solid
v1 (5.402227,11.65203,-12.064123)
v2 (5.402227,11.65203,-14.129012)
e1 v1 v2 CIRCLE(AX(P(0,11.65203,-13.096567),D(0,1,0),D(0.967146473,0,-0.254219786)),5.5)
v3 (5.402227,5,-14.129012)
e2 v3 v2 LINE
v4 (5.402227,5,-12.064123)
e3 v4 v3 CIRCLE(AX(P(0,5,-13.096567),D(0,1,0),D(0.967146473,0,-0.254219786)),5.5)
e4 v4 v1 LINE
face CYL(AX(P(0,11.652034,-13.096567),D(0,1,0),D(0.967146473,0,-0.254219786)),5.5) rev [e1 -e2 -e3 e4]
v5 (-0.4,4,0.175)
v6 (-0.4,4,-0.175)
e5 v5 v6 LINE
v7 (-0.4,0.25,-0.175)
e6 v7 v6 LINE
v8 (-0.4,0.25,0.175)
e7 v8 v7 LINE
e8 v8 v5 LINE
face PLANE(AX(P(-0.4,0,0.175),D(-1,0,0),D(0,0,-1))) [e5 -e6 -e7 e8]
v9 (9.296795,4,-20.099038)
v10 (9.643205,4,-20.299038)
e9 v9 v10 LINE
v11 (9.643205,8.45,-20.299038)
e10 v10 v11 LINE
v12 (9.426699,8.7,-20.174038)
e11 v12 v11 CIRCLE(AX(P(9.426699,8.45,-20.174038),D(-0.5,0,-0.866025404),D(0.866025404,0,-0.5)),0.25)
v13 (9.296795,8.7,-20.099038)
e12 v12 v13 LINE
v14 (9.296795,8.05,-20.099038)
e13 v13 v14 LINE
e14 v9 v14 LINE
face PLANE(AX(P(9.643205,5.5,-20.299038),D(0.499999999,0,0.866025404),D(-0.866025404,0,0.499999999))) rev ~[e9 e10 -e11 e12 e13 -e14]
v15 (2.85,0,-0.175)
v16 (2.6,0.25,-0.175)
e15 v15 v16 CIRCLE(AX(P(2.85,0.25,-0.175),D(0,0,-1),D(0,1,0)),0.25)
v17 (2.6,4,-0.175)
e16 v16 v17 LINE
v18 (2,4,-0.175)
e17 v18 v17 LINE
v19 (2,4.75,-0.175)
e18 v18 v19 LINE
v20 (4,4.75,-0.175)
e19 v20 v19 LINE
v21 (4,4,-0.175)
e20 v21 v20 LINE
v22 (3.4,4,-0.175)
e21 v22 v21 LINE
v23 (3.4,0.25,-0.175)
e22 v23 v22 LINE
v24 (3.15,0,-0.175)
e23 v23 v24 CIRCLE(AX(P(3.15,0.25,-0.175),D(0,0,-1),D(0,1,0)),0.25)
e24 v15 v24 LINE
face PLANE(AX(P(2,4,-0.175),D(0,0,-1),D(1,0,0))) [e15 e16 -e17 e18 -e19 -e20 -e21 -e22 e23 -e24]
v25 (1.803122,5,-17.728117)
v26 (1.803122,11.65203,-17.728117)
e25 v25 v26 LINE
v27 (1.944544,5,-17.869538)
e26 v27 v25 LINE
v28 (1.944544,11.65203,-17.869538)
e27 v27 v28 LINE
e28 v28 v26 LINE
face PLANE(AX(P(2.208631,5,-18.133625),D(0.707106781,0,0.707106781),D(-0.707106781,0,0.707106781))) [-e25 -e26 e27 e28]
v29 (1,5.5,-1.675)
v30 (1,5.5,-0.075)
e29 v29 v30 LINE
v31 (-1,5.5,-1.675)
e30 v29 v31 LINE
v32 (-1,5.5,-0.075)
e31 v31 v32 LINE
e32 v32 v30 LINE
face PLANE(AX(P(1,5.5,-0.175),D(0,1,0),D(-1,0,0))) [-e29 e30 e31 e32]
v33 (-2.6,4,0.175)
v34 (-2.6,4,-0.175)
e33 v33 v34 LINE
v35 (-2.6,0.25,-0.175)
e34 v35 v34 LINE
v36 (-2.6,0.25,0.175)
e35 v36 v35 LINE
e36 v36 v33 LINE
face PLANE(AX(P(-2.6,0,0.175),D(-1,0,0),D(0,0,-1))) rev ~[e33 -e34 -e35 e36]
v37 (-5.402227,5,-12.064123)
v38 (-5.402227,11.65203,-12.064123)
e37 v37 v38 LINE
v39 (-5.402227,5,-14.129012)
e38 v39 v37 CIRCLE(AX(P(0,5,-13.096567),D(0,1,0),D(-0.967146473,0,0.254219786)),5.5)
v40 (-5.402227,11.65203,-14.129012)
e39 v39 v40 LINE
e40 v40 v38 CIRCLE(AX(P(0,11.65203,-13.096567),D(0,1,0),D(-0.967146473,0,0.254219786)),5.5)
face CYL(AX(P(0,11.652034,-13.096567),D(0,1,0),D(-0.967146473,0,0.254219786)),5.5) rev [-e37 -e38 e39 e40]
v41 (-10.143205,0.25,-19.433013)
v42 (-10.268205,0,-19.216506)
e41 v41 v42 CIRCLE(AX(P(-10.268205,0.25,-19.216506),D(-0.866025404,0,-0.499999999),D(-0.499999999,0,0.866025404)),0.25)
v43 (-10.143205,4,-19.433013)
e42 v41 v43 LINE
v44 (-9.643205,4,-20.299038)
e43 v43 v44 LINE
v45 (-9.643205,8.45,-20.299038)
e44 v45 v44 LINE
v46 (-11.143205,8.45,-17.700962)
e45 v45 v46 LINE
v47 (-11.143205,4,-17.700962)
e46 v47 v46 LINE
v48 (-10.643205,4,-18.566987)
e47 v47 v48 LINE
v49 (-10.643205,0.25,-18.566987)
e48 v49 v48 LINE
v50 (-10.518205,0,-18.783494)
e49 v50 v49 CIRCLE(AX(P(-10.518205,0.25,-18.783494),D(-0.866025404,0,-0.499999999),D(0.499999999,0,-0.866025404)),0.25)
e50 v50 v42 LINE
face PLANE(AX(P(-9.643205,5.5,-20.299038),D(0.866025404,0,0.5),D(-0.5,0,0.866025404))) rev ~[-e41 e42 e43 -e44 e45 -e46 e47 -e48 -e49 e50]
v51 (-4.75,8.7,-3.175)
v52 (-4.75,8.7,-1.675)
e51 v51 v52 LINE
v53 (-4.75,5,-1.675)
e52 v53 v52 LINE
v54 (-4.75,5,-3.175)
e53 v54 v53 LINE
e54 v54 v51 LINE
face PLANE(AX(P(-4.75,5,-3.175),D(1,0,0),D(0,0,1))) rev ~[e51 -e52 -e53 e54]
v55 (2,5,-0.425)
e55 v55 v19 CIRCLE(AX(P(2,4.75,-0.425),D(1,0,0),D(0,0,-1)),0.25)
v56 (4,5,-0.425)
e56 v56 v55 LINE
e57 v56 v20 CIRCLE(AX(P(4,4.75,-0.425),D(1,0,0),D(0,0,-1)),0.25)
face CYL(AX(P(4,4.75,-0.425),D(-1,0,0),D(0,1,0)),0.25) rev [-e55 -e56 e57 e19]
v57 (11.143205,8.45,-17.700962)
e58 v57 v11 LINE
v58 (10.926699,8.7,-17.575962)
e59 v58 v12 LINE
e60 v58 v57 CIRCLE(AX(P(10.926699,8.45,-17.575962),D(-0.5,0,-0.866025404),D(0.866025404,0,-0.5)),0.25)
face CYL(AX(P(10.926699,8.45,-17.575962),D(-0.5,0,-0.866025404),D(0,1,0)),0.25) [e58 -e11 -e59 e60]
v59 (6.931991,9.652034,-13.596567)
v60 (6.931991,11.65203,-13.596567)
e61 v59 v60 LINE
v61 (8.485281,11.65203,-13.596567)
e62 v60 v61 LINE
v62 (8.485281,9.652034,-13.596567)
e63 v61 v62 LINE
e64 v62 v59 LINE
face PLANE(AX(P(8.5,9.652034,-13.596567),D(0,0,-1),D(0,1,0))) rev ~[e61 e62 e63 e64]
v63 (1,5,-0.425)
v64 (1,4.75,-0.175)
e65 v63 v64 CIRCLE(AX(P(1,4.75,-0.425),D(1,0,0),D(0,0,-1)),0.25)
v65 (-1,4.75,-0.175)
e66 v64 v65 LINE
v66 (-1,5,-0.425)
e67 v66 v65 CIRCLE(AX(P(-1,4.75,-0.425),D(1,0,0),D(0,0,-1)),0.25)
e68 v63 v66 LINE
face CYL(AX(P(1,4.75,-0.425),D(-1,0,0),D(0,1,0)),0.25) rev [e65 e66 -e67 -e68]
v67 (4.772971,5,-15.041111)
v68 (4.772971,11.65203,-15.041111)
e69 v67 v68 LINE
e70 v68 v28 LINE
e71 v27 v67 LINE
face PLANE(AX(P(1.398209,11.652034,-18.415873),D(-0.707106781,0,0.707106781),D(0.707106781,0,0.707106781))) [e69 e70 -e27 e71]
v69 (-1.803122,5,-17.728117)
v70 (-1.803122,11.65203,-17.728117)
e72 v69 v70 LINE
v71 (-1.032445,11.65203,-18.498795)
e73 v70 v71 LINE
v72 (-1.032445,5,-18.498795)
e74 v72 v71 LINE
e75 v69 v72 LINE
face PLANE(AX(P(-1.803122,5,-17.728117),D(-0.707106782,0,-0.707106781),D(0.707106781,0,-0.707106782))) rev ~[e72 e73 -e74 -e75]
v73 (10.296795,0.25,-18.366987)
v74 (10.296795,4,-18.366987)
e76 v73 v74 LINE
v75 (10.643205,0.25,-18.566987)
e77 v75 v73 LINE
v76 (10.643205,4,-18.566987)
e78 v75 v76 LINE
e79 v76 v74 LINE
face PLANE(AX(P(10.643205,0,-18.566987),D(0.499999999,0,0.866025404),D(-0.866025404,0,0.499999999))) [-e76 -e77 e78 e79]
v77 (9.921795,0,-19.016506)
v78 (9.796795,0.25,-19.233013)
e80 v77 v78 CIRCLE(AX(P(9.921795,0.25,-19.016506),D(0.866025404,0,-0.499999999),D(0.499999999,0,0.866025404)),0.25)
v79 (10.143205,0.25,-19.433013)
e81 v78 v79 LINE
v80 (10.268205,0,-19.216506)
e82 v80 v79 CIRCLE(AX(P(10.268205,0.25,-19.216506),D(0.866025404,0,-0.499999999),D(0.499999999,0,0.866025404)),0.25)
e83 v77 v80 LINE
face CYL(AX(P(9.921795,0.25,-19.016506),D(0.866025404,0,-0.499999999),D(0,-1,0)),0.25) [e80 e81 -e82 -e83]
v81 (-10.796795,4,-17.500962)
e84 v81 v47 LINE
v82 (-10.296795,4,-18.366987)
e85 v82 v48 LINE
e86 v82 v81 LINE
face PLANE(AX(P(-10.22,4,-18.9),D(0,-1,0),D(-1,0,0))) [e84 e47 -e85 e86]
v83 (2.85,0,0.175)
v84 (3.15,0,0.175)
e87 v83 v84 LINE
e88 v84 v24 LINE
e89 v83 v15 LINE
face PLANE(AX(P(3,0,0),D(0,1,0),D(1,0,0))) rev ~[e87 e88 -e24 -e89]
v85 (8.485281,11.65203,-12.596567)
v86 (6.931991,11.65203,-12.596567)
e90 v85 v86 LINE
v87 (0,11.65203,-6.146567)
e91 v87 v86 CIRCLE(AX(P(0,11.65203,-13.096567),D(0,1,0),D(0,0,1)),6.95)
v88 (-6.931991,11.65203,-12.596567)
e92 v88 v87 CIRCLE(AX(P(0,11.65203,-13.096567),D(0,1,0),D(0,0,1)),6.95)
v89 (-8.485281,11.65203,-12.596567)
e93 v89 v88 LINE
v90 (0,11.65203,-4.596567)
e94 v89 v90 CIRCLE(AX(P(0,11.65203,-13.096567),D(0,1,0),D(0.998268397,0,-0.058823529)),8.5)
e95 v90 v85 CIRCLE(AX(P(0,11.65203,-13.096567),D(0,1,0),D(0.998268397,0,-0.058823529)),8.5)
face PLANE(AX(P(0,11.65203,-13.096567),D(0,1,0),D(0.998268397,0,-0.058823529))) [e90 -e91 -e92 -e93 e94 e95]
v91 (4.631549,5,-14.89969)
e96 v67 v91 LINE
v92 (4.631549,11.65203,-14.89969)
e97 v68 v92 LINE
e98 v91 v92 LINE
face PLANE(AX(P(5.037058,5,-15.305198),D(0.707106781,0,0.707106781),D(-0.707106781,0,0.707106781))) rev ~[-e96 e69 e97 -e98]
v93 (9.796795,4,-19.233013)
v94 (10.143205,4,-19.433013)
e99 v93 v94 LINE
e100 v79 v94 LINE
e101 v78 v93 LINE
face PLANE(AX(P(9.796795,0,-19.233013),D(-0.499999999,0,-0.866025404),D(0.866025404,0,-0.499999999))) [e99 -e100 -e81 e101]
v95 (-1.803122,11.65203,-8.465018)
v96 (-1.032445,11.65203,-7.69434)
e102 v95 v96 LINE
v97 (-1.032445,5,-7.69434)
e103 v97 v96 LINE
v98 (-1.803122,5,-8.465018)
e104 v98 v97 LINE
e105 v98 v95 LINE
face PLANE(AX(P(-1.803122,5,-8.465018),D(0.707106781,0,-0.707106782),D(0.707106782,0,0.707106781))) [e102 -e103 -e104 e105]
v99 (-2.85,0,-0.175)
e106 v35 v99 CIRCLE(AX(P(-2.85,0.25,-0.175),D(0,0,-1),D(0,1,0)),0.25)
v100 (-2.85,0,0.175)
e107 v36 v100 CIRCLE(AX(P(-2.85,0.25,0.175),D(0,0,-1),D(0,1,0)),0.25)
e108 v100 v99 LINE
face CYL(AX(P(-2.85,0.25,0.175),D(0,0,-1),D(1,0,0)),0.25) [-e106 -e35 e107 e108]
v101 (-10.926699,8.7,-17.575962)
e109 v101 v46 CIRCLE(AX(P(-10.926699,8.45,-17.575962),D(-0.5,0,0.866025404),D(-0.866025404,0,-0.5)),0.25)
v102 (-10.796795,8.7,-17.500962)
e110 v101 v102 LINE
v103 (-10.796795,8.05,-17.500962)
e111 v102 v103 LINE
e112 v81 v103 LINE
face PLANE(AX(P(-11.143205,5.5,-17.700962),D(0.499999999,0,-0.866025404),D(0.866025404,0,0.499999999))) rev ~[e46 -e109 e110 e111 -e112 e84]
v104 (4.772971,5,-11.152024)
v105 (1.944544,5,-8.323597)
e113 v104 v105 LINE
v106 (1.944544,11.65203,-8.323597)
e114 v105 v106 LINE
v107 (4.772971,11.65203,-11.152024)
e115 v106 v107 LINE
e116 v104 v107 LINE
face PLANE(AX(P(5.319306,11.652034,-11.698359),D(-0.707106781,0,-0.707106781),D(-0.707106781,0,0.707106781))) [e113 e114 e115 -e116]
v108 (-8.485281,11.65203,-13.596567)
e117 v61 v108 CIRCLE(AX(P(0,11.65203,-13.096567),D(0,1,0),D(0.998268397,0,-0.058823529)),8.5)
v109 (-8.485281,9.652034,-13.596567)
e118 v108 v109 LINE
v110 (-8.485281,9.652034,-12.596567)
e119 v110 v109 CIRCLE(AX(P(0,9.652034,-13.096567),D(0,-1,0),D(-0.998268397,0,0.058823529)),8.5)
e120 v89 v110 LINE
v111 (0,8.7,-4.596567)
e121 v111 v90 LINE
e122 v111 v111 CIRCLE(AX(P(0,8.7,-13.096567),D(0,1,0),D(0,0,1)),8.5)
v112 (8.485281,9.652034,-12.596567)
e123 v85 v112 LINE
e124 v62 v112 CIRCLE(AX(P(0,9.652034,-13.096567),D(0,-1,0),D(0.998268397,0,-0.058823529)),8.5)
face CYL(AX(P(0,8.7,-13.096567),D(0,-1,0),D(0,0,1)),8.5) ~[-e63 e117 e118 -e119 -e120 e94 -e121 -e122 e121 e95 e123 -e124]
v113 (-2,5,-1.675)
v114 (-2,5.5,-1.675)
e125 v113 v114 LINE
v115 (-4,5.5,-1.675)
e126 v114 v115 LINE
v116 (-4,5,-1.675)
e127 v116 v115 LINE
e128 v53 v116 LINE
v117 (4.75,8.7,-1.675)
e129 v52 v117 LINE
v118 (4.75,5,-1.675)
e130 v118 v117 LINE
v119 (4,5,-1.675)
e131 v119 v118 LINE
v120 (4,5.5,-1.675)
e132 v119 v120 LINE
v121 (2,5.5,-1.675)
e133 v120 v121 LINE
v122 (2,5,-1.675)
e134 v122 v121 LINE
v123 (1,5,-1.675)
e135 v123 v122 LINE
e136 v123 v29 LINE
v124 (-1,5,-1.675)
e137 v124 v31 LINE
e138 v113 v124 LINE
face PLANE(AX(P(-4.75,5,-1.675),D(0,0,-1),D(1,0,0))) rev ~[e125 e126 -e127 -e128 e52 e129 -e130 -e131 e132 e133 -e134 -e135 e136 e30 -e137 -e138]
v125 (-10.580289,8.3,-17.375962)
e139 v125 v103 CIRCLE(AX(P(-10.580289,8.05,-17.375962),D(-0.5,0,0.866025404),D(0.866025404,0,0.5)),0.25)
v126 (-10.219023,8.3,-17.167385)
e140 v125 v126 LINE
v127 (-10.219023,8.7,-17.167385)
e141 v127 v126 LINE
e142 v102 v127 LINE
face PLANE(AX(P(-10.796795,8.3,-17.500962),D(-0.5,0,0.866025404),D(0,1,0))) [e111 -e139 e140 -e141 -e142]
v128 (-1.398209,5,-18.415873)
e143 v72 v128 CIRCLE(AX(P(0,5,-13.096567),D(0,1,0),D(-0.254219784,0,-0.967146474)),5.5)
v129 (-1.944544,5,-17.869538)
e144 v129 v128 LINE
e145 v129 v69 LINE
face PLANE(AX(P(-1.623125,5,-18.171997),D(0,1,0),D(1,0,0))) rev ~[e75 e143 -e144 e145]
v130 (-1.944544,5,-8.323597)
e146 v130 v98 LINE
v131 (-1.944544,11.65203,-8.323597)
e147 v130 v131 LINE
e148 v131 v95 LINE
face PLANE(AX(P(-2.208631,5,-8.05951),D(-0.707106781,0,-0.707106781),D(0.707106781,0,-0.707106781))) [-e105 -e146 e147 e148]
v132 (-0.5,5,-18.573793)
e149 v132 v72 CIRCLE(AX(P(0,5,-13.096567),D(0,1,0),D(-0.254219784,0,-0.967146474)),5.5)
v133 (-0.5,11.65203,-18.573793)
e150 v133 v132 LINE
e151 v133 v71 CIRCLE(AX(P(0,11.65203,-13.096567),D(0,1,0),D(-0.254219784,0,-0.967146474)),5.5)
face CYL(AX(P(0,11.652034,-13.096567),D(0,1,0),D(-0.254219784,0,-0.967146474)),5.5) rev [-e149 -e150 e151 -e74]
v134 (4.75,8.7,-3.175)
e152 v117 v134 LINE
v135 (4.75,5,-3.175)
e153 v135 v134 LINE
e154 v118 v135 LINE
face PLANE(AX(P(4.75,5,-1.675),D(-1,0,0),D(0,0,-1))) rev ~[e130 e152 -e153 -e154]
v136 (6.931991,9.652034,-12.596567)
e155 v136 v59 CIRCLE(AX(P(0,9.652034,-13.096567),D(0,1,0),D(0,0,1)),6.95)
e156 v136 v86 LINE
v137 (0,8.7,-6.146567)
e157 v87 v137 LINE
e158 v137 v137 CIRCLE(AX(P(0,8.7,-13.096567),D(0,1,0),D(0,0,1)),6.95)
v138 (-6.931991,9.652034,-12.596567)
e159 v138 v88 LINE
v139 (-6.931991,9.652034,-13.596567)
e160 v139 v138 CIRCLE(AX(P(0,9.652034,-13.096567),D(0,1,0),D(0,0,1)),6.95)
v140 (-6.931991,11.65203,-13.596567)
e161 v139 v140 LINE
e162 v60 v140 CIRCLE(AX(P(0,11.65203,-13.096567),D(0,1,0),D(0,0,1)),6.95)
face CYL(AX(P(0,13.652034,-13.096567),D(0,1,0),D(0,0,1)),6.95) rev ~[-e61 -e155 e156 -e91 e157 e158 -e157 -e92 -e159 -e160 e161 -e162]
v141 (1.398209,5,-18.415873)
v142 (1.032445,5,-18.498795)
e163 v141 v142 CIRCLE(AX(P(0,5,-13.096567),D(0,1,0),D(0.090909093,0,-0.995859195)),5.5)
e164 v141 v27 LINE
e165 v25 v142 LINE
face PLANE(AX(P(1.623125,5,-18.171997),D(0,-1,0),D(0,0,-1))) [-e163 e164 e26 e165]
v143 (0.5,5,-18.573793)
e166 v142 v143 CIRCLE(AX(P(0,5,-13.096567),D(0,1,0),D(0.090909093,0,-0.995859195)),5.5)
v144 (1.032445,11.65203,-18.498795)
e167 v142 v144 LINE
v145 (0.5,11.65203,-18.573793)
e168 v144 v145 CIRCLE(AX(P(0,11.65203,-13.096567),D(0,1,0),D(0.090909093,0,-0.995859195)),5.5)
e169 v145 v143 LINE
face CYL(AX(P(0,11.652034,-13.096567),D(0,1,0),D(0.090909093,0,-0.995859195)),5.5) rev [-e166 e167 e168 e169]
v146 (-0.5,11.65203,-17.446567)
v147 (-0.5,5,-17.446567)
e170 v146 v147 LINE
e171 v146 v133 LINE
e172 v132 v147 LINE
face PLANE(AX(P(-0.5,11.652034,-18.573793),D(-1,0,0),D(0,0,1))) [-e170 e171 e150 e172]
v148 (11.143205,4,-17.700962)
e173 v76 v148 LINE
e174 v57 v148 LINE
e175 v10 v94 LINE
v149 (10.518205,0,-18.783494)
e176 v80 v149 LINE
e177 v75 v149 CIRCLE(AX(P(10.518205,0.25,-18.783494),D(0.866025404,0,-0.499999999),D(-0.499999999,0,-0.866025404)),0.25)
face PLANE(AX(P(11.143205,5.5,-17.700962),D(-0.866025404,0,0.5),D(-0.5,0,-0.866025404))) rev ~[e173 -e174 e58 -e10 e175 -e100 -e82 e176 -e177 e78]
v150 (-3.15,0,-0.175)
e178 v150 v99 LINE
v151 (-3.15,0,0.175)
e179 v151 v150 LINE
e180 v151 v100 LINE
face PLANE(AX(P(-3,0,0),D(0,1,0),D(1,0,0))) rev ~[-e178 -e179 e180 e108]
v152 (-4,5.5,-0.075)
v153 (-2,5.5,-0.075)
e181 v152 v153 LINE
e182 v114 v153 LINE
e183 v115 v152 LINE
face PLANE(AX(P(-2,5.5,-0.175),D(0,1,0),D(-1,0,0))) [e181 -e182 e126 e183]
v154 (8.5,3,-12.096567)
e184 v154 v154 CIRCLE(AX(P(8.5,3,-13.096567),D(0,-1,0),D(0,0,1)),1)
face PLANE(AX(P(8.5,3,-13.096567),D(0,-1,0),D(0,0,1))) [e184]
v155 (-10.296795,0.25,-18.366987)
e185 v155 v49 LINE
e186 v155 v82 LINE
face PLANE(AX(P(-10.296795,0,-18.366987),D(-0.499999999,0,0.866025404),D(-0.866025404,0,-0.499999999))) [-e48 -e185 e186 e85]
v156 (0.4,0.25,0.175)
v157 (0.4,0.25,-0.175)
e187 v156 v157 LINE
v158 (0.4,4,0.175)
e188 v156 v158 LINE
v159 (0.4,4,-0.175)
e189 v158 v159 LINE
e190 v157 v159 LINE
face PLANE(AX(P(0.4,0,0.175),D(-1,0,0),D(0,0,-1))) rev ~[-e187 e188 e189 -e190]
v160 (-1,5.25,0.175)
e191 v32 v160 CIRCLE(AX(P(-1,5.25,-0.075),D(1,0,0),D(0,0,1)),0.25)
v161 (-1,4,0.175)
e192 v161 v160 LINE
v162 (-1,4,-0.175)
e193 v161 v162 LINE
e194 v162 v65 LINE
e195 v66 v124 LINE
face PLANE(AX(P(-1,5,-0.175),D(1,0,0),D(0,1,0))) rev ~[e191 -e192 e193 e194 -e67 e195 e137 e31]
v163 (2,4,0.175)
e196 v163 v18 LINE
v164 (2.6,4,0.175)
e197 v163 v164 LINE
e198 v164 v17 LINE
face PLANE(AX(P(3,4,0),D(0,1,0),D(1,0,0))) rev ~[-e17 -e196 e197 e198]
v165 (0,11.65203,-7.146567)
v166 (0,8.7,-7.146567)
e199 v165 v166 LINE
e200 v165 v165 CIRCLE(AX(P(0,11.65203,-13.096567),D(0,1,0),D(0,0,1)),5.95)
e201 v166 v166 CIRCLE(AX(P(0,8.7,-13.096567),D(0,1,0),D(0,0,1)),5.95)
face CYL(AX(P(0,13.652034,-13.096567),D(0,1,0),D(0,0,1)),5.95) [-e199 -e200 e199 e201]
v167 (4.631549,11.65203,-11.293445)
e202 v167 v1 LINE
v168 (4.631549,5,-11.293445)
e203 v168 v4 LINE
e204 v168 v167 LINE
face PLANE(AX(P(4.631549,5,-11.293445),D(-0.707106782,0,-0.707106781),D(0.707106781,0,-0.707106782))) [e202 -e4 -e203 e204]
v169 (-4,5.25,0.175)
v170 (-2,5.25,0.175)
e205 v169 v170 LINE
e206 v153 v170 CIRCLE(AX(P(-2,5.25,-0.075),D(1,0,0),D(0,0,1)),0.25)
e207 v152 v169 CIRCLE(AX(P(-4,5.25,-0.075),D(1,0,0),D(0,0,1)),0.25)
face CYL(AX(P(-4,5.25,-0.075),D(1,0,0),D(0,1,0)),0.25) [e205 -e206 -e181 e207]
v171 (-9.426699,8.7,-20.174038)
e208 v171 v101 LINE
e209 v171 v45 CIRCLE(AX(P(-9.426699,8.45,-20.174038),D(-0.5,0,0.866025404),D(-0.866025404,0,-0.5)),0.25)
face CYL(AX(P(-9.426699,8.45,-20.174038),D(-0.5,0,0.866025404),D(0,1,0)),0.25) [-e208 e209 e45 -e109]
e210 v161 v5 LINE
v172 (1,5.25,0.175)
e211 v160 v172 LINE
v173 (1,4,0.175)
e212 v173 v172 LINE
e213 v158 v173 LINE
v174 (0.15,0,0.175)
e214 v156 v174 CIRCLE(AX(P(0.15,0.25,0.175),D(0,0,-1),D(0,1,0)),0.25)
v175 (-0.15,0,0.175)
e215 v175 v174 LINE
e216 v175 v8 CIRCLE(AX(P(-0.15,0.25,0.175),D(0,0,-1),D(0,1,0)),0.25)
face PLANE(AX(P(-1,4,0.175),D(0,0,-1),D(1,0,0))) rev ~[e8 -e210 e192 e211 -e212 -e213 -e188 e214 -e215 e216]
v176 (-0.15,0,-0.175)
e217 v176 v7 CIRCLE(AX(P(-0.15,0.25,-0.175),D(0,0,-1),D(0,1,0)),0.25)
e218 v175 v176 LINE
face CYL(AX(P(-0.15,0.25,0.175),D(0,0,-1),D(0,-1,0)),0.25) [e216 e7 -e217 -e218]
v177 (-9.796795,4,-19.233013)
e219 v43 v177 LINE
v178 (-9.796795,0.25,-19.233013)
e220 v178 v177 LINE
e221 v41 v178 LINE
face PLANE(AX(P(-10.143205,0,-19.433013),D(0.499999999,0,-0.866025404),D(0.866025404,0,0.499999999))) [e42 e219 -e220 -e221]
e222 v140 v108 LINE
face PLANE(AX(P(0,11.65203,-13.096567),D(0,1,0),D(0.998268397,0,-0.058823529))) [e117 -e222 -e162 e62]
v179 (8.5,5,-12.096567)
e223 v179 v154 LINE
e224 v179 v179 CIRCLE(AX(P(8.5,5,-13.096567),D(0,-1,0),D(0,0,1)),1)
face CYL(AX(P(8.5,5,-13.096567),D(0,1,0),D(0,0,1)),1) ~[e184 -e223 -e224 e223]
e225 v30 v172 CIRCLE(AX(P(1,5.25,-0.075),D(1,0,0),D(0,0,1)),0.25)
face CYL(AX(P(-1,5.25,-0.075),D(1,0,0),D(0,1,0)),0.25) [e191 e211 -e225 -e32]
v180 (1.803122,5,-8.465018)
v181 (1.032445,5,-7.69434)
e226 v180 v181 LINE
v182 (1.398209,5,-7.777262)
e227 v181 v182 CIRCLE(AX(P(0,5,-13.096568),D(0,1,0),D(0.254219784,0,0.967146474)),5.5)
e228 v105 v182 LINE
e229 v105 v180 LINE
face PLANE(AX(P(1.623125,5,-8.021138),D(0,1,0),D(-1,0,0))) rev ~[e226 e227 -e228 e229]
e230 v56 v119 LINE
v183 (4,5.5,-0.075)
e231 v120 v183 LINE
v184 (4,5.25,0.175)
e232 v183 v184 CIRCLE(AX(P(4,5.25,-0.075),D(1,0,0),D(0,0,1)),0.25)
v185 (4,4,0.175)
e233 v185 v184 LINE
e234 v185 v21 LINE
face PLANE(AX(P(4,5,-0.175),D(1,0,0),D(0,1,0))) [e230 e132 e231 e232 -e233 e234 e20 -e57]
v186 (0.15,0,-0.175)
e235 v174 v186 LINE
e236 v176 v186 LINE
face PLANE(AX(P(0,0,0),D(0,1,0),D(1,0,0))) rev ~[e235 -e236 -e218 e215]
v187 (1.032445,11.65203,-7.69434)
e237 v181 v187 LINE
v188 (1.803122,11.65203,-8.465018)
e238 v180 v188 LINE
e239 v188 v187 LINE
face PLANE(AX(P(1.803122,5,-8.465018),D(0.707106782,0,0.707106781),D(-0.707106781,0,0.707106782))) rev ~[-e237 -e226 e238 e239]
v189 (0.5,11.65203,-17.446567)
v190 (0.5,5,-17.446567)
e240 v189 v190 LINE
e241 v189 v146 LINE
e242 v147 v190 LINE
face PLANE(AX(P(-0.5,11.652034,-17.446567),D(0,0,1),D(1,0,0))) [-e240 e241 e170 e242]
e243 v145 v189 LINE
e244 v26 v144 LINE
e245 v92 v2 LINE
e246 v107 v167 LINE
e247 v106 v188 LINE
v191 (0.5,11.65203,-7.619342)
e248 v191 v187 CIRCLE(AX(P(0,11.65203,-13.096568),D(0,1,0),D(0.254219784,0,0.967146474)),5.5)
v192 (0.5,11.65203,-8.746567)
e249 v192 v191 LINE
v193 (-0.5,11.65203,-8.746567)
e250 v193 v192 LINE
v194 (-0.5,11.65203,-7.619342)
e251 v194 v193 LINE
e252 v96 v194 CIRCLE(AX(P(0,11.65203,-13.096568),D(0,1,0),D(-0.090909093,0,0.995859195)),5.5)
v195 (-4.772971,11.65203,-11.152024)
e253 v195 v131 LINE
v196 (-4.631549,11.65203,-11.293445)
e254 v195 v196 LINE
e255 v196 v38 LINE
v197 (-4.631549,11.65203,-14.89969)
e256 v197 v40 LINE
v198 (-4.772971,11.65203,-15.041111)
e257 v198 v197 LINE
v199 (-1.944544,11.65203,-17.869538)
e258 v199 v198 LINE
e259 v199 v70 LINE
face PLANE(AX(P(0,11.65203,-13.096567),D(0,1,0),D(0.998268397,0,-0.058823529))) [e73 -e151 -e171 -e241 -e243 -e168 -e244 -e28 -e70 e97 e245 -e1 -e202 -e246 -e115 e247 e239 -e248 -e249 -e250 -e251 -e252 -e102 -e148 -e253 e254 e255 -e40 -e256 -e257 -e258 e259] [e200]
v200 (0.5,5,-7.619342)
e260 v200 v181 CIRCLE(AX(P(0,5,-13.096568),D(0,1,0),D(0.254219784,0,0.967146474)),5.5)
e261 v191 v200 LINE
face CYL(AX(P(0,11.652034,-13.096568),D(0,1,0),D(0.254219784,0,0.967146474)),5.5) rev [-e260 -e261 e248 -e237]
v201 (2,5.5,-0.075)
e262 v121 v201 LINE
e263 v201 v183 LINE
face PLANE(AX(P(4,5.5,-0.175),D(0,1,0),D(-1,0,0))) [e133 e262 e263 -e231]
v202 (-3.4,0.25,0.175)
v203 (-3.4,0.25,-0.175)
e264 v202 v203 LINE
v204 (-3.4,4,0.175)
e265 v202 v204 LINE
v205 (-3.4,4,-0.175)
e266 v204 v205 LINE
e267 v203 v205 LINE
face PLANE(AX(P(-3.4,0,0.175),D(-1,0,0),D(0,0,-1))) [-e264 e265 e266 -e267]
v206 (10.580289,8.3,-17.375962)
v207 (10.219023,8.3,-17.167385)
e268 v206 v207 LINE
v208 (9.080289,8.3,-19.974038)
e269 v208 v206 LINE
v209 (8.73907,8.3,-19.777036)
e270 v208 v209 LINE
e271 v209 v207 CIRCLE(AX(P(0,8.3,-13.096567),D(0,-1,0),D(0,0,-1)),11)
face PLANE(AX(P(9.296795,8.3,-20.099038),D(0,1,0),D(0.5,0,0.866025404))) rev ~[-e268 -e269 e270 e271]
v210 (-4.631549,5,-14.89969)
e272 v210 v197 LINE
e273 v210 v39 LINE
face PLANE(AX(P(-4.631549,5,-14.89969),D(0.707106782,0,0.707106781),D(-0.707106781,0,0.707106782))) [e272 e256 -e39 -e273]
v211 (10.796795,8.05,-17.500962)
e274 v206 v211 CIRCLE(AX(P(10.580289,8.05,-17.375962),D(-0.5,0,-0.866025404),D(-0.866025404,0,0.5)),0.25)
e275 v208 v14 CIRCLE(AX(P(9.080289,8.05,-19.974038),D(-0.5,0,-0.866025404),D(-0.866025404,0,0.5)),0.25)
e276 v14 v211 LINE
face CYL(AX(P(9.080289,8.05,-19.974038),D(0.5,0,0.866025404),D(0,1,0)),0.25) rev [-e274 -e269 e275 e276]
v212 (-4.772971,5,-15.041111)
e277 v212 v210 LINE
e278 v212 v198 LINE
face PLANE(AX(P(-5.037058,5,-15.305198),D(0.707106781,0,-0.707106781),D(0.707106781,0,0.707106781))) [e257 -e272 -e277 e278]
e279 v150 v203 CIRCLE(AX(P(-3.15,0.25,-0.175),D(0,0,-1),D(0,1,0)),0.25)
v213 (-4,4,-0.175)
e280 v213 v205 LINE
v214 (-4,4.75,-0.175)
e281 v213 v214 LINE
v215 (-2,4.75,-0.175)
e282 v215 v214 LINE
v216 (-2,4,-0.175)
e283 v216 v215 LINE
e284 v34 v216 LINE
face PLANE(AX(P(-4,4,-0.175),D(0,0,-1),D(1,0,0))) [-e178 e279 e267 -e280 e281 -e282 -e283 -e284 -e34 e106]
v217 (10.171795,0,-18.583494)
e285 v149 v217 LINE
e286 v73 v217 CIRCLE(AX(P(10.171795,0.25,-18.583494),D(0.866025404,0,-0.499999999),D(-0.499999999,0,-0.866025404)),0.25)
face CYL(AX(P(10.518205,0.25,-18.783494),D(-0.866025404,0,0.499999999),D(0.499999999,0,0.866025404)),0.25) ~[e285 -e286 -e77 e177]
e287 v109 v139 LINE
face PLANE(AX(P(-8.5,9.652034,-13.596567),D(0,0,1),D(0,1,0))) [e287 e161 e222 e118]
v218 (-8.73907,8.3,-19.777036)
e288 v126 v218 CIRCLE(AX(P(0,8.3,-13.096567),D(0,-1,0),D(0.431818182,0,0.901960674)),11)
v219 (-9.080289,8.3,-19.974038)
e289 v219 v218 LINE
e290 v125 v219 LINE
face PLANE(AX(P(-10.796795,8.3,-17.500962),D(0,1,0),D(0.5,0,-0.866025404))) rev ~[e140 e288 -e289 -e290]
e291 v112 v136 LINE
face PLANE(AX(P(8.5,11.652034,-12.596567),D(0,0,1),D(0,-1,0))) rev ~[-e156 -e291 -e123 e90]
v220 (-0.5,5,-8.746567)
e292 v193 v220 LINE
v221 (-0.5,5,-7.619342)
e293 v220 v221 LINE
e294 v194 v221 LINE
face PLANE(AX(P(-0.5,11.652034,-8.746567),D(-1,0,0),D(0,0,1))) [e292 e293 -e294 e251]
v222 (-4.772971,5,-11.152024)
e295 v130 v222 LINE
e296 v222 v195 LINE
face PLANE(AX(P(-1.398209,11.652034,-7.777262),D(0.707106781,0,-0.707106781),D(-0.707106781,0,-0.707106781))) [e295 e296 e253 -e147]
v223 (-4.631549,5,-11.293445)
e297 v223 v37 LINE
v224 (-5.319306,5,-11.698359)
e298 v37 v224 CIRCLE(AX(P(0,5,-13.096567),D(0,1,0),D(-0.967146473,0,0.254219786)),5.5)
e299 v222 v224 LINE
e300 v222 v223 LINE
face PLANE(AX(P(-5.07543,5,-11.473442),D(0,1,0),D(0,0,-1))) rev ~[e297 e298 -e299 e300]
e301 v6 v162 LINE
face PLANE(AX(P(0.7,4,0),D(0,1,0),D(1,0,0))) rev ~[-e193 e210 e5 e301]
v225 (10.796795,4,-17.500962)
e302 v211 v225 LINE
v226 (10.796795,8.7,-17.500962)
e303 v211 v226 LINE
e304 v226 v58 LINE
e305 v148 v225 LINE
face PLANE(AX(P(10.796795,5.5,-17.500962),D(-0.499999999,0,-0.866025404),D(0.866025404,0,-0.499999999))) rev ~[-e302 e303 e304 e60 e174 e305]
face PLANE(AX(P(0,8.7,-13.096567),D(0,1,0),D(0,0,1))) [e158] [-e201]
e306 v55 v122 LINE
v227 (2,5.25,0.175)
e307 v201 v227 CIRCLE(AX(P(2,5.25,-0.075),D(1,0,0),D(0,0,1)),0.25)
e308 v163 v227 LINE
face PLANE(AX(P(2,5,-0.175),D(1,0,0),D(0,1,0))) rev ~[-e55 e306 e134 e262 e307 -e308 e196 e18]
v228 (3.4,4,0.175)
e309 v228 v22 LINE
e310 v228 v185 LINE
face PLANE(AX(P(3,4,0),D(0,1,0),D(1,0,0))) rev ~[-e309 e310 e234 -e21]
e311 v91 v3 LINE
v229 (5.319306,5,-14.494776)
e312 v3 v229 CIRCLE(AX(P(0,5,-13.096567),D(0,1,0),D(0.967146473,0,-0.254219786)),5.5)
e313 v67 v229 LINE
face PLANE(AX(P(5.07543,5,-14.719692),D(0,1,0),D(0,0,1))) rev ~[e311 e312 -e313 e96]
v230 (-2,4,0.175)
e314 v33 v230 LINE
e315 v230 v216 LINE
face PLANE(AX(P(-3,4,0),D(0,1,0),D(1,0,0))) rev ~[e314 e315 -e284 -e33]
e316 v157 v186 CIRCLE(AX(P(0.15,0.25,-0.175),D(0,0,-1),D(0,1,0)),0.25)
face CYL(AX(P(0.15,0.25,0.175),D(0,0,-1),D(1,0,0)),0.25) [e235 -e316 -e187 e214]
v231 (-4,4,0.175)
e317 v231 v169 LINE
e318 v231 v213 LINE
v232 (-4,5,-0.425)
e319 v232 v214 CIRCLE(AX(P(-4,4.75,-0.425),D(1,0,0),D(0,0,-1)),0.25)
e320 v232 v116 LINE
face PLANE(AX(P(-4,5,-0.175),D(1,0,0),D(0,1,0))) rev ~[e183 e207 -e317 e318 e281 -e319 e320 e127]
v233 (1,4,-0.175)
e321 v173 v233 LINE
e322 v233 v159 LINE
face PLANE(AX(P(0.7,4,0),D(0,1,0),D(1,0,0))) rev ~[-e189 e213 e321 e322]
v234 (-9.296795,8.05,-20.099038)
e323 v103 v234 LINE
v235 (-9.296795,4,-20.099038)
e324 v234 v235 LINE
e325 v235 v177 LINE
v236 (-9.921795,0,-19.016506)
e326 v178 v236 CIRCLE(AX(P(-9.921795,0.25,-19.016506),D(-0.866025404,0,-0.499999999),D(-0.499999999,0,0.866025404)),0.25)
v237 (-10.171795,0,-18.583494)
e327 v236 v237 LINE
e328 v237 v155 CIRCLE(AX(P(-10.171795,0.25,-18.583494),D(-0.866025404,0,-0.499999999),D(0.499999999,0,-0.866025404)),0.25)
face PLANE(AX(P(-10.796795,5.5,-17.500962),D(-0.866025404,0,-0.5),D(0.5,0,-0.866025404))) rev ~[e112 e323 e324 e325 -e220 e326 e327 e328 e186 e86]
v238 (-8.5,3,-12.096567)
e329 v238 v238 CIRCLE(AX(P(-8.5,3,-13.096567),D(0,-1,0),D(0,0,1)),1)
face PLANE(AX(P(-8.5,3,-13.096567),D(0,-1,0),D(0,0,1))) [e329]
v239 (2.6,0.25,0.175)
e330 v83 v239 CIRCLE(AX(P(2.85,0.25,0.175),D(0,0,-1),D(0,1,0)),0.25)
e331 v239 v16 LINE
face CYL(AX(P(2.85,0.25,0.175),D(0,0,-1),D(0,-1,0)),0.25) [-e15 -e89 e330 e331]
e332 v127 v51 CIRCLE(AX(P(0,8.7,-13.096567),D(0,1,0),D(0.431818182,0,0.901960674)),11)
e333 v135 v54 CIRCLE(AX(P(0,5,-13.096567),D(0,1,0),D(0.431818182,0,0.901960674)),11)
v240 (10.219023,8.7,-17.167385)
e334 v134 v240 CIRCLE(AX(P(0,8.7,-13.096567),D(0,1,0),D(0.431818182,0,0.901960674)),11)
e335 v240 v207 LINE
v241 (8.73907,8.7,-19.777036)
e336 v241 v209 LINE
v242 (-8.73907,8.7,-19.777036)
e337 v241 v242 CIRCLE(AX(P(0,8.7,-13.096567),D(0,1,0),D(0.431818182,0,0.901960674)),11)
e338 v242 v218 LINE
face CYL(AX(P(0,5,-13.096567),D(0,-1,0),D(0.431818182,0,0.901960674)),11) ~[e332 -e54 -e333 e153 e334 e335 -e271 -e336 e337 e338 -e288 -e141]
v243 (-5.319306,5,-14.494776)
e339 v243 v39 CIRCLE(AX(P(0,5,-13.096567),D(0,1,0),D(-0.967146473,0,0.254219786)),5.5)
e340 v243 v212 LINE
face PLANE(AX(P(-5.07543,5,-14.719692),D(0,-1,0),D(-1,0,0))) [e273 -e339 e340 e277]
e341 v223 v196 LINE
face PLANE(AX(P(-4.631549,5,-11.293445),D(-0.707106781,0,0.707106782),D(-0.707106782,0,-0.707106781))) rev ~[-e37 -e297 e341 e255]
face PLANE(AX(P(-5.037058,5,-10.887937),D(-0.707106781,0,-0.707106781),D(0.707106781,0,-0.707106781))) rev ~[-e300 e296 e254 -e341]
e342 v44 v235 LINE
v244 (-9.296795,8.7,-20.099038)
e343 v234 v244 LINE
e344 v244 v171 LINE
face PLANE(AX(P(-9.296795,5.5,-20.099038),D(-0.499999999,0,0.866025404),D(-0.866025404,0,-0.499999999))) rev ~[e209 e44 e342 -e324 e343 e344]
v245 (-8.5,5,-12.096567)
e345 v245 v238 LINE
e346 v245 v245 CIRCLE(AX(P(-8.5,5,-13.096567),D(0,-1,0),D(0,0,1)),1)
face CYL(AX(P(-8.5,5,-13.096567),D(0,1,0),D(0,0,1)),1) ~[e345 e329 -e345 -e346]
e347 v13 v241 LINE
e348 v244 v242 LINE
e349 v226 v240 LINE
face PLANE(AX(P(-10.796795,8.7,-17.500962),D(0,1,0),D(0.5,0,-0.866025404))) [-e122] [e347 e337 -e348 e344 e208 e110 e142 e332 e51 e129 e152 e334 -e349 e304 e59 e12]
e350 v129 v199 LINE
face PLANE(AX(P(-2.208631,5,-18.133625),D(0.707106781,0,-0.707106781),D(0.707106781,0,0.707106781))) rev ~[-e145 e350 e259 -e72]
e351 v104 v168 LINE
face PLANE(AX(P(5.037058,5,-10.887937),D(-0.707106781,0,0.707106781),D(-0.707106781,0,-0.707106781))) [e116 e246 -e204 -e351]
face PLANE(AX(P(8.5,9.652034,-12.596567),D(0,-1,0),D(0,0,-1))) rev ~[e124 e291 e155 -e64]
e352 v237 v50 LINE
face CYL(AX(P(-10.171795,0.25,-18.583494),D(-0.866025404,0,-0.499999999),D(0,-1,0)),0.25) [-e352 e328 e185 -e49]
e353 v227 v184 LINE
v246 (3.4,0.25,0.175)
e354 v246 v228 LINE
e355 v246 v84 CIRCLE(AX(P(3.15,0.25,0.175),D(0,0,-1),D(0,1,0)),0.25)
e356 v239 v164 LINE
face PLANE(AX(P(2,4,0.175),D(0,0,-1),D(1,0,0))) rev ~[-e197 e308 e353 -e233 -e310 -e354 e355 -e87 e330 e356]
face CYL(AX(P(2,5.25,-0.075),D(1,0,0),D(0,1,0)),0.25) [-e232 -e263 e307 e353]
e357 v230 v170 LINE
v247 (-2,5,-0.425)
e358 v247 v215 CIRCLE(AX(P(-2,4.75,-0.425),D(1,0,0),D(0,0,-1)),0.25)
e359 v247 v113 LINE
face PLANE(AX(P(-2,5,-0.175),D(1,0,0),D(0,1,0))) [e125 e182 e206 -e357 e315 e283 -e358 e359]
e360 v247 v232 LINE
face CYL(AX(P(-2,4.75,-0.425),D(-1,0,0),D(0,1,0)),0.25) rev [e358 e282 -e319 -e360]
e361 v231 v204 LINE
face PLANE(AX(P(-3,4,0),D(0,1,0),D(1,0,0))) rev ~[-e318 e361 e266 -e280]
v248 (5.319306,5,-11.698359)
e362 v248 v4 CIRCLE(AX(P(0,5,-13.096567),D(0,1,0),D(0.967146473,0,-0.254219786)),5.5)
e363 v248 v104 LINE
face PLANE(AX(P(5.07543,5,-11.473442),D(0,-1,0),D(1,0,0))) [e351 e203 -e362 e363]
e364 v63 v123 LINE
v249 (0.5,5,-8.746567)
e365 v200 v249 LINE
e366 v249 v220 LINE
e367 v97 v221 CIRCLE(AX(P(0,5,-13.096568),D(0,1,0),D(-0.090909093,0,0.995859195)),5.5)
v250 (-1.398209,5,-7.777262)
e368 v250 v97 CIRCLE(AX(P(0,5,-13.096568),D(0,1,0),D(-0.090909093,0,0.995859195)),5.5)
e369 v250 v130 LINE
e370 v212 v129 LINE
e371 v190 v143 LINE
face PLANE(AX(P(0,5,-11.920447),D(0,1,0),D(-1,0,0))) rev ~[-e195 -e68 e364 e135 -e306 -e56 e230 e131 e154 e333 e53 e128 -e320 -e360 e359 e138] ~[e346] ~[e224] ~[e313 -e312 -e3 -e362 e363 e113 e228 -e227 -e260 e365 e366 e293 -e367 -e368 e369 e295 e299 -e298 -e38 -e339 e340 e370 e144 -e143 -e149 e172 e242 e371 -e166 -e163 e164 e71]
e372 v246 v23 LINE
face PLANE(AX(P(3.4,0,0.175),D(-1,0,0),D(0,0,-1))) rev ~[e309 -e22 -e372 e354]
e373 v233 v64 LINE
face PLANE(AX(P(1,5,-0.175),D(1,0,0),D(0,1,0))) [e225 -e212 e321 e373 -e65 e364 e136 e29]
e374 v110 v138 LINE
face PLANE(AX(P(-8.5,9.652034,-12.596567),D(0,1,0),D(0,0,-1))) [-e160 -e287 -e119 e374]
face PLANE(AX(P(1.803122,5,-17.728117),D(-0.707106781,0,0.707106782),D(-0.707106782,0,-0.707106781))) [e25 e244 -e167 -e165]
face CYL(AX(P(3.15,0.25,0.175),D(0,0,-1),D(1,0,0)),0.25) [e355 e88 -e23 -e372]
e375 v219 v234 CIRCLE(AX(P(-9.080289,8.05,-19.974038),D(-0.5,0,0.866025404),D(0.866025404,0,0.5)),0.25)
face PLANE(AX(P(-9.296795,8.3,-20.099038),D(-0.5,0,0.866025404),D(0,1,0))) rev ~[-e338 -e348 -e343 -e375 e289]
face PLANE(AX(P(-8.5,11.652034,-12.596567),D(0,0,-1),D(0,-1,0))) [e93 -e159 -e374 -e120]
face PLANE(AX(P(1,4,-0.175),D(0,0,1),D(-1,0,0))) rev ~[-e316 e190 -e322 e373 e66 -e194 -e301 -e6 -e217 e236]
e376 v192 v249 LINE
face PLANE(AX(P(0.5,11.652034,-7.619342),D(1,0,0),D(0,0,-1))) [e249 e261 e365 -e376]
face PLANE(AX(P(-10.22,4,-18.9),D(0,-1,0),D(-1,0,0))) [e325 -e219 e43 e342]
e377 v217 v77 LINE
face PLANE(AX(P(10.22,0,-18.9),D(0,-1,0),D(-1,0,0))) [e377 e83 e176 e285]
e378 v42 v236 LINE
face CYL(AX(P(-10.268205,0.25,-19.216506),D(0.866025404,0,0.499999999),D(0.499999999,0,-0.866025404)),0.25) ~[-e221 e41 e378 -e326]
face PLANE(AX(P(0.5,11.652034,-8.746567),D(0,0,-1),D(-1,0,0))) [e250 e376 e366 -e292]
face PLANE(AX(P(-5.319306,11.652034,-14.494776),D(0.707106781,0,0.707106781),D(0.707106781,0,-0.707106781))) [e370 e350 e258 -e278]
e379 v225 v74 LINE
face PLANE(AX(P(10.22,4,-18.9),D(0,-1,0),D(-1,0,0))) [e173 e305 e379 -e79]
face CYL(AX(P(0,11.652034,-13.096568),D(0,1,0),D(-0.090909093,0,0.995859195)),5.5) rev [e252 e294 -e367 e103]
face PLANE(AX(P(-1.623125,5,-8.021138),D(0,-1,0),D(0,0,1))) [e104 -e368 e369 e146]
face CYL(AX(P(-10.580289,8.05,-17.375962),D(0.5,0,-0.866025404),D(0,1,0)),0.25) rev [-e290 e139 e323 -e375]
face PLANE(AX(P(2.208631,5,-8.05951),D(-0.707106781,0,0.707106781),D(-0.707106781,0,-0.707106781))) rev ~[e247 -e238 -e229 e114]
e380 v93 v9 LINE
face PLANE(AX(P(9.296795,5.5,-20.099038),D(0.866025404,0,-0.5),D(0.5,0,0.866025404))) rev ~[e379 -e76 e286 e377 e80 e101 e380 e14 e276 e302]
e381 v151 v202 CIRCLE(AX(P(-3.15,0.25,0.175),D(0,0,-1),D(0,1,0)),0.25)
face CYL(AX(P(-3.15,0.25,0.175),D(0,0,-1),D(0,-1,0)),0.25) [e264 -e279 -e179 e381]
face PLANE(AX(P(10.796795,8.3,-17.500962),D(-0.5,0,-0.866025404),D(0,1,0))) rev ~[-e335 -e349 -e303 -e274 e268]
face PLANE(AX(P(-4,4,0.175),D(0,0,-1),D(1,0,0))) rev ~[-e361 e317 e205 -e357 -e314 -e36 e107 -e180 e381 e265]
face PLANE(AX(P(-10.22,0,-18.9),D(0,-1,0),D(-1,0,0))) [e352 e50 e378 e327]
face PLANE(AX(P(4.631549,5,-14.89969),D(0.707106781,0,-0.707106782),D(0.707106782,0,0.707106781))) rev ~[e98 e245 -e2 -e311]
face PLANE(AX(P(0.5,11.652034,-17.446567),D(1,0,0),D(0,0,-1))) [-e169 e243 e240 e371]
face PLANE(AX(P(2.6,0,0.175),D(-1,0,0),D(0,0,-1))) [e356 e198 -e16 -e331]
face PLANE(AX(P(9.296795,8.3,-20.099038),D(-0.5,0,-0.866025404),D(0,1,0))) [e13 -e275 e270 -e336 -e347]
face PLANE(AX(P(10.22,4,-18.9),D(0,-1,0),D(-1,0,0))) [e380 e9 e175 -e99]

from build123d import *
from build123d.topology import SkipClean

# Parameters (mm, degrees)
BOSS_EXTRUDE1_DEPTH      = 4
SKETCH1_W                = 0.8
SKETCH1_H                = 0.35
BOSS_EXTRUDE1_2_DEPTH    = 4
BOSS_EXTRUDE1_3_DEPTH    = 4
BOSS_EXTRUDE1_4_DEPTH    = 4
BOSS_EXTRUDE1_5_DEPTH    = 4
SKETCH2_W                = 0.6
SKETCH2_H                = 0.35
SKETCH2_W_2              = 0.8
SKETCH2_W_3              = 2
BOSS_EXTRUDE2_DEPTH      = 1.5
SKETCH3_W                = 2
SKETCH3_H                = 0.5
BOSS_EXTRUDE3_DEPTH      = 1.5
BOSS_EXTRUDE4_DEPTH      = 3.7
BOSS_EXTRUDE6_DEPTH      = 3.2
BOSS_EXTRUDE7_REACH      = 33.958
BOSS_EXTRUDE7_END_RADIUS = 11
SKETCH7_W                = 3
SKETCH7_H                = 0.4
BOSS_EXTRUDE8_REACH      = 33.958
SKETCH8_W                = 3
SKETCH8_H                = 0.4
SKETCH9_R                = 1
BOSS_EXTRUDE9_DEPTH      = 2
SKETCH5_R                = 8.5
BOSS_EXTRUDE5_DEPTH      = 4.952033783
FILLET1_R                = 0.25
FILLET2_R                = 0.25
SKETCH10_R               = 5.5
CUT_EXTRUDE1_DEPTH       = 2
CUT_EXTRUDE2_DEPTH       = 29.992852085
BOSS_EXTRUDE10_START     = -8.652034
BOSS_EXTRUDE10_DEPTH     = 8.652034
CIRPATTERN2_COUNT        = 4
SKETCH13_R               = 6.95
SKETCH13_R_2             = 5.95
CUT_EXTRUDE3_DEPTH       = 4.952033783
CHAMFER1_SIZE            = 1
CUT_EXTRUDE4_REACH       = 35.954
CUT_EXTRUDE4_END_RADIUS  = 6.95
CUT_EXTRUDE5_START       = -17
CUT_EXTRUDE5_DEPTH       = 2.01521
CUT_EXTRUDE6_START       = -2.000004
SKETCH16_R               = 8.5
CUT_EXTRUDE6_DEPTH       = 2.000004


with BuildPart() as part:
    # Sketch1 → Boss-Extrude1 (new body)
    with BuildSketch(Plane(origin=(0, 0, 0), x_dir=(1, 0, 0), z_dir=(0, 1, 0))):
        Polygon((9.796794919, 19.233012702), (10.143205081, 19.433012702), (10.643205081, 18.566987298), (10.296794919, 18.366987298), align=None)
    extrude(amount=BOSS_EXTRUDE1_DEPTH)



with BuildPart() as body_2:
    # Sketch1 → Boss-Extrude1 2 (new body)
    with BuildSketch(Plane(origin=(0, 0, 0), x_dir=(1, 0, 0), z_dir=(0, 1, 0))):
        with Locations((-3, 0)):
            Rectangle(SKETCH1_W, SKETCH1_H)
    extrude(amount=BOSS_EXTRUDE1_2_DEPTH)


with BuildPart() as body_3:
    # Sketch1 → Boss-Extrude1 3 (new body)
    with BuildSketch(Plane(origin=(0, 0, 0), x_dir=(1, 0, 0), z_dir=(0, 1, 0))):
        Rectangle(SKETCH1_W, SKETCH1_H)
    extrude(amount=BOSS_EXTRUDE1_3_DEPTH)


with BuildPart() as body_4:
    # Sketch1 → Boss-Extrude1 4 (new body)
    with BuildSketch(Plane(origin=(0, 0, 0), x_dir=(1, 0, 0), z_dir=(0, 1, 0))):
        with Locations((3, 0)):
            Rectangle(SKETCH1_W, SKETCH1_H)
    extrude(amount=BOSS_EXTRUDE1_4_DEPTH)


with BuildPart() as body_5:
    # Sketch1 → Boss-Extrude1 5 (new body)
    with BuildSketch(Plane(origin=(0, 0, 0), x_dir=(1, 0, 0), z_dir=(0, 1, 0))):
        Polygon((-10.296794919, 18.366987298), (-10.643205081, 18.566987298), (-10.143205081, 19.433012702), (-9.796794919, 19.233012702), align=None)
    extrude(amount=BOSS_EXTRUDE1_5_DEPTH)


with BuildPart() as part_1:
    add(part.part)

    add(body_2.part)  # Boss-Extrude2 merges body 2

    add(body_3.part)  # Boss-Extrude2 merges body 3

    add(body_4.part)  # Boss-Extrude2 merges body 4

    add(body_5.part)  # Boss-Extrude2 merges body 5
    # Sketch2 → Boss-Extrude2 (add)
    with BuildSketch(Plane(origin=(0, 4, 0), x_dir=(1, 0, 0), z_dir=(0, 1, 0))):
        Polygon((-11.143205081, 17.700961894), (-9.643205081, 20.299038106), (-9.296794919, 20.099038106), (-10.796794919, 17.500961894), align=None)
        Polygon((9.643205081, 20.299038106), (11.143205081, 17.700961894), (10.796794919, 17.500961894), (9.296794919, 20.099038106), align=None)
        with Locations((0.7, 0)):
            Rectangle(SKETCH2_W, SKETCH2_H)
        Rectangle(SKETCH2_W_2, SKETCH2_H)
        with Locations((-0.7, 0)):
            Rectangle(SKETCH2_W, SKETCH2_H)
        with Locations((-3, 0)):
            Rectangle(SKETCH2_W_3, SKETCH2_H)
        with Locations((3, 0)):
            Rectangle(SKETCH2_W_3, SKETCH2_H)
    extrude(amount=BOSS_EXTRUDE2_DEPTH)

    # Sketch3 → Boss-Extrude3 (add)
    with BuildSketch(Plane(origin=(0, 0, -0.175), x_dir=(-1, 0, 0), z_dir=(0, 0, -1))):
        with Locations((-3, 5.25)):
            Rectangle(SKETCH3_W, SKETCH3_H)
        with Locations((0, 5.25)):
            Rectangle(SKETCH3_W, SKETCH3_H)
        with Locations((3, 5.25)):
            Rectangle(SKETCH3_W, SKETCH3_H)
    extrude(amount=BOSS_EXTRUDE3_DEPTH)

    # Sketch4 → Boss-Extrude4 (add)
    with BuildSketch(Plane.XZ.offset(-5)):
        with BuildLine():
            Line((-4.75, -1.675), (4.75, -1.675))
            Line((4.75, -1.675), (4.75, -3.175))
            ThreePointArc((4.75, -3.175), (0, -24.096567416), (-4.75, -3.175))
            Line((-4.75, -3.175), (-4.75, -1.675))
        make_face()
    extrude(amount=-BOSS_EXTRUDE4_DEPTH)

    # Sketch6 → Boss-Extrude6 (add)
    with BuildSketch(Plane(origin=(0, 5.5, 0), x_dir=(1, 0, 0), z_dir=(0, 1, 0))):
        Polygon((-9.643205081, 20.299038106), (-11.143205081, 17.700961894), (-10.796794919, 17.500961894), (-9.296794919, 20.099038106), align=None)
        Polygon((11.143205081, 17.700961894), (9.643205081, 20.299038106), (9.296794919, 20.099038106), (10.796794919, 17.500961894), align=None)
    extrude(amount=BOSS_EXTRUDE6_DEPTH)

    # Boss-Extrude7: up to this cylinder (the profile starts outside it)
    boss_extrude7_end = Plane(origin=(0, 8.5, -13.096567416), z_dir=(0, -1, 0)) * Cylinder(BOSS_EXTRUDE7_END_RADIUS, 90.916, mode=Mode.PRIVATE)
    # Sketch7 → Boss-Extrude7 (add, up to the surface)
    with BuildSketch(Plane(origin=(15.675734985, 0, -9.050389813), x_dir=(0.4999999999999947, 0, 0.8660254037844417), z_dir=(-0.8660254037844418, 0, 0.49999999999999484)), mode=Mode.PRIVATE) as boss_extrude7_sk1:
        with Locations((-11.257880132, 8.5)):
            Rectangle(SKETCH7_W, SKETCH7_H)
    boss_extrude7_tool1 = extrude(boss_extrude7_sk1.sketch, amount=BOSS_EXTRUDE7_REACH, mode=Mode.PRIVATE) - boss_extrude7_end
    add(boss_extrude7_tool1.solids().sort_by_distance((10.046795, 8.5, -18.8))[0])

    # Sketch8 → Boss-Extrude8 (add, up to next)
    with BuildSketch(Plane(origin=(-15.675734985, 0, -9.050389813), x_dir=(0.4999999999999956, 0, -0.8660254037844413), z_dir=(0.8660254037844413, 0, 0.4999999999999956)), mode=Mode.PRIVATE) as boss_extrude8_sk1:
        with Locations((11.257880132, 8.5)):
            Rectangle(SKETCH8_W, SKETCH8_H)
    boss_extrude8_tool1 = extrude(boss_extrude8_sk1.sketch, amount=BOSS_EXTRUDE8_REACH, mode=Mode.PRIVATE) - part_1.part
    add(boss_extrude8_tool1.solids().sort_by_distance((-10.046795, 8.5, -18.8))[0])

    # Sketch9 → Boss-Extrude9 (add)
    with BuildSketch(Plane.XZ.offset(-5)):
        with Locations(Location((-8.5, -13.096567416, 0), (0, 0, 90))):
            Circle(SKETCH9_R)
        with Locations(Location((8.5, -13.096567416, 0), (0, 0, 90))):
            Circle(SKETCH9_R)
    extrude(amount=BOSS_EXTRUDE9_DEPTH)

    # Sketch5 → Boss-Extrude5 (add)
    with BuildSketch(Plane(origin=(0, 8.7, 0), x_dir=(1, 0, 0), z_dir=(0, 1, 0))):
        with Locations(Location((0, 13.096567416, 0), (0, 0, 270))):
            Circle(SKETCH5_R)
    extrude(amount=BOSS_EXTRUDE5_DEPTH)

    # Fillet1
    fillet1_edges = [part_1.edges().sort_by_distance(p)[0] for p in [
        (-10.393205081, 8.7, -19),
        (-10.046794919, 8.3, -18.8),
        (-3, 5.5, 0.175),
        (-3, 5, -0.175),
        (3, 5, -0.175),
        (0, 5, -0.175),
        (0, 5.5, 0.175),
        (3, 5.5, 0.175),
        (10.046794919, 8.3, -18.8),
        (10.393205081, 8.7, -19),
    ]]
    fillet(fillet1_edges, radius=FILLET1_R)

    # Fillet2
    fillet2_edges = [part_1.edges().sort_by_distance(p)[0] for p in [
        (-3.4, 0, 0),
        (-2.6, 0, 0),
        (-10.47, 0, -18.466987298),
        (-0.4, 0, 0),
        (0.4, 0, 0),
        (2.6, 0, 0),
        (3.4, 0, 0),
        (-9.97, 0, -19.333012702),
        (10.47, 0, -18.466987298),
        (9.97, 0, -19.333012702),
    ]]
    fillet(fillet2_edges, radius=FILLET2_R)

    # Sketch10 → Cut-Extrude1 (cut)
    with BuildSketch(Plane(origin=(0, 13.652033783, 0), x_dir=(1, 0, 0), z_dir=(0, 1, 0))):
        with Locations(Location((0, 13.096567416, 0), (0, 0, 270))):
            Circle(SKETCH10_R)
    extrude(amount=-CUT_EXTRUDE1_DEPTH, mode=Mode.SUBTRACT)

    # Sketch11 → Cut-Extrude2 (cut, through all)
    with BuildSketch(Plane(origin=(0, 11.652033783, 0), x_dir=(1, 0, 0), z_dir=(0, 1, 0))):
        with BuildLine():
            Line((-5.319305603, 14.494776234), (-1.398208818, 18.41587302))
            ThreePointArc((-1.398208818, 18.41587302), (-0.952383252, 18.513482234), (-0.5, 18.573792992))
            Line((-0.5, 18.573792992), (-0.5, 17.446567416))
            Line((-0.5, 17.446567416), (0.5, 17.446567416))
            Line((0.5, 17.446567416), (0.5, 18.573792992))
            ThreePointArc((0.5, 18.573792992), (0.952383252, 18.513482234), (1.398208818, 18.41587302))
            Line((1.398208818, 18.41587302), (5.319305603, 14.494776234))
            ThreePointArc((5.319305603, 14.494776234), (5.5, 13.096567416), (5.319305603, 11.698358599))
            Line((5.319305603, 11.698358599), (1.398208818, 7.777261813))
            ThreePointArc((1.398208818, 7.777261813), (0.952383252, 7.679652599), (0.5, 7.619341841))
            Line((0.5, 7.619341841), (0.5, 8.746567416))
            Line((0.5, 8.746567416), (-0.5, 8.746567416))
            Line((-0.5, 8.746567416), (-0.5, 7.619341841))
            ThreePointArc((-0.5, 7.619341841), (-0.952383252, 7.679652599), (-1.398208818, 7.777261813))
            Line((-1.398208818, 7.777261813), (-5.319305603, 11.698358599))
            ThreePointArc((-5.319305603, 11.698358599), (-5.5, 13.096567416), (-5.319305603, 14.494776234))
        make_face()
    extrude(amount=-CUT_EXTRUDE2_DEPTH, mode=Mode.SUBTRACT)

    # Sketch12 → Boss-Extrude10 (add)
    with BuildSketch(Plane(origin=(0, 13.652033783, 0), x_dir=(1, 0, 0), z_dir=(0, 1, 0)).offset(BOSS_EXTRUDE10_START)):
        with BuildLine():
            Line((-2.208630624, 18.133625165), (-1.803122292, 17.728116833))
            Line((-1.803122292, 17.728116833), (-1.032444553, 18.498794573))
            ThreePointArc((-1.032444553, 18.498794573), (-1.630790989, 18.349235381), (-2.208630624, 18.133625165))
        make_face()
        with BuildLine():
            Line((-5.037057749, 15.305198041), (-4.631549417, 14.899689709))
            Line((-4.631549417, 14.899689709), (-5.402227156, 14.129011969))
            ThreePointArc((-5.402227156, 14.129011969), (-5.252667965, 14.727358405), (-5.037057749, 15.305198041))
        make_face()
    boss_extrude10 = extrude(amount=BOSS_EXTRUDE10_DEPTH)

    # CirPattern2: Boss-Extrude10 ×4 about axis
    cirpattern2_axis = Axis((0, 0, -13.096567416), (0, 1, 0))
    for i in range(1, CIRPATTERN2_COUNT):
        add(boss_extrude10.rotate(cirpattern2_axis, i * 360 / CIRPATTERN2_COUNT))

    # Sketch13 → Cut-Extrude3 (cut)
    with SkipClean():  # the faces are left unmerged after this step: merging them gives an invalid solid
        with BuildSketch(Plane(origin=(0, 13.652033783, 0), x_dir=(1, 0, 0), z_dir=(0, 1, 0))):
            with Locations(Location((0, 13.096567416, 0), (0, 0, 270))):
                Circle(SKETCH13_R)
            with Locations(Location((0, 13.096567416, 0), (0, 0, 270))):
                Circle(SKETCH13_R_2, mode=Mode.SUBTRACT)
        extrude(amount=-CUT_EXTRUDE3_DEPTH, mode=Mode.SUBTRACT)

    # Chamfer1
    chamfer1_edges = [part_1.edges().sort_by_distance(p)[0] for p in [
        (0, 13.652033783, -21.596567416),
    ]]
    chamfer(chamfer1_edges, length=CHAMFER1_SIZE)

    # Cut-Extrude4: up to this cylinder (the profile starts outside it)
    with SkipClean():  # the faces are left unmerged after this step: merging them gives an invalid solid
        cut_extrude4_end = Plane(origin=(0, 12.3187, -13.096567416), z_dir=(0, 1, 0)) * Cylinder(CUT_EXTRUDE4_END_RADIUS, 86.808, mode=Mode.PRIVATE)
        # Sketch14 → Cut-Extrude4 (cut, up to the surface)
        with BuildSketch(Plane(origin=(8.5, 0, 0), x_dir=(0, 0, -1), z_dir=(1, 0, 0)), mode=Mode.PRIVATE) as cut_extrude4_sk1:
            Polygon((10.596567416, 13.652033783), (12.596567416, 11.652033783), (12.596567416, 9.652033783), (13.596567416, 9.652033783), (13.596567416, 11.652033783), (15.596567416, 13.652033783), align=None)
        cut_extrude4_tool1 = extrude(cut_extrude4_sk1.sketch, amount=-CUT_EXTRUDE4_REACH, mode=Mode.PRIVATE) - cut_extrude4_end
        add(cut_extrude4_tool1.solids().sort_by_distance((8.5, 12.3187, -13.096567))[0], mode=Mode.SUBTRACT)

    # Sketch14<2> → Cut-Extrude5 (cut)
    with SkipClean():  # the faces are left unmerged after this step: merging them gives an invalid solid
        with BuildSketch(Plane(origin=(8.5, 0, 0), x_dir=(0, 0, -1), z_dir=(1, 0, 0)).offset(CUT_EXTRUDE5_START)):
            Polygon((10.596567416, 13.652033783), (12.596567416, 11.652033783), (12.596567416, 9.652033783), (13.596567416, 9.652033783), (13.596567416, 11.652033783), (15.596567416, 13.652033783), align=None)
        extrude(amount=CUT_EXTRUDE5_DEPTH, mode=Mode.SUBTRACT)

    # Sketch16 → Cut-Extrude6 (cut)
    with BuildSketch(Plane(origin=(0, 13.652033783, 0), x_dir=(1, 0, 0), z_dir=(0, 1, 0)).offset(CUT_EXTRUDE6_START)):
        with Locations(Location((0, 13.096567416, 0), (0, 0, 3.372286684))):
            Circle(SKETCH16_R)
    extrude(amount=CUT_EXTRUDE6_DEPTH, mode=Mode.SUBTRACT)


solid = part_1.part
